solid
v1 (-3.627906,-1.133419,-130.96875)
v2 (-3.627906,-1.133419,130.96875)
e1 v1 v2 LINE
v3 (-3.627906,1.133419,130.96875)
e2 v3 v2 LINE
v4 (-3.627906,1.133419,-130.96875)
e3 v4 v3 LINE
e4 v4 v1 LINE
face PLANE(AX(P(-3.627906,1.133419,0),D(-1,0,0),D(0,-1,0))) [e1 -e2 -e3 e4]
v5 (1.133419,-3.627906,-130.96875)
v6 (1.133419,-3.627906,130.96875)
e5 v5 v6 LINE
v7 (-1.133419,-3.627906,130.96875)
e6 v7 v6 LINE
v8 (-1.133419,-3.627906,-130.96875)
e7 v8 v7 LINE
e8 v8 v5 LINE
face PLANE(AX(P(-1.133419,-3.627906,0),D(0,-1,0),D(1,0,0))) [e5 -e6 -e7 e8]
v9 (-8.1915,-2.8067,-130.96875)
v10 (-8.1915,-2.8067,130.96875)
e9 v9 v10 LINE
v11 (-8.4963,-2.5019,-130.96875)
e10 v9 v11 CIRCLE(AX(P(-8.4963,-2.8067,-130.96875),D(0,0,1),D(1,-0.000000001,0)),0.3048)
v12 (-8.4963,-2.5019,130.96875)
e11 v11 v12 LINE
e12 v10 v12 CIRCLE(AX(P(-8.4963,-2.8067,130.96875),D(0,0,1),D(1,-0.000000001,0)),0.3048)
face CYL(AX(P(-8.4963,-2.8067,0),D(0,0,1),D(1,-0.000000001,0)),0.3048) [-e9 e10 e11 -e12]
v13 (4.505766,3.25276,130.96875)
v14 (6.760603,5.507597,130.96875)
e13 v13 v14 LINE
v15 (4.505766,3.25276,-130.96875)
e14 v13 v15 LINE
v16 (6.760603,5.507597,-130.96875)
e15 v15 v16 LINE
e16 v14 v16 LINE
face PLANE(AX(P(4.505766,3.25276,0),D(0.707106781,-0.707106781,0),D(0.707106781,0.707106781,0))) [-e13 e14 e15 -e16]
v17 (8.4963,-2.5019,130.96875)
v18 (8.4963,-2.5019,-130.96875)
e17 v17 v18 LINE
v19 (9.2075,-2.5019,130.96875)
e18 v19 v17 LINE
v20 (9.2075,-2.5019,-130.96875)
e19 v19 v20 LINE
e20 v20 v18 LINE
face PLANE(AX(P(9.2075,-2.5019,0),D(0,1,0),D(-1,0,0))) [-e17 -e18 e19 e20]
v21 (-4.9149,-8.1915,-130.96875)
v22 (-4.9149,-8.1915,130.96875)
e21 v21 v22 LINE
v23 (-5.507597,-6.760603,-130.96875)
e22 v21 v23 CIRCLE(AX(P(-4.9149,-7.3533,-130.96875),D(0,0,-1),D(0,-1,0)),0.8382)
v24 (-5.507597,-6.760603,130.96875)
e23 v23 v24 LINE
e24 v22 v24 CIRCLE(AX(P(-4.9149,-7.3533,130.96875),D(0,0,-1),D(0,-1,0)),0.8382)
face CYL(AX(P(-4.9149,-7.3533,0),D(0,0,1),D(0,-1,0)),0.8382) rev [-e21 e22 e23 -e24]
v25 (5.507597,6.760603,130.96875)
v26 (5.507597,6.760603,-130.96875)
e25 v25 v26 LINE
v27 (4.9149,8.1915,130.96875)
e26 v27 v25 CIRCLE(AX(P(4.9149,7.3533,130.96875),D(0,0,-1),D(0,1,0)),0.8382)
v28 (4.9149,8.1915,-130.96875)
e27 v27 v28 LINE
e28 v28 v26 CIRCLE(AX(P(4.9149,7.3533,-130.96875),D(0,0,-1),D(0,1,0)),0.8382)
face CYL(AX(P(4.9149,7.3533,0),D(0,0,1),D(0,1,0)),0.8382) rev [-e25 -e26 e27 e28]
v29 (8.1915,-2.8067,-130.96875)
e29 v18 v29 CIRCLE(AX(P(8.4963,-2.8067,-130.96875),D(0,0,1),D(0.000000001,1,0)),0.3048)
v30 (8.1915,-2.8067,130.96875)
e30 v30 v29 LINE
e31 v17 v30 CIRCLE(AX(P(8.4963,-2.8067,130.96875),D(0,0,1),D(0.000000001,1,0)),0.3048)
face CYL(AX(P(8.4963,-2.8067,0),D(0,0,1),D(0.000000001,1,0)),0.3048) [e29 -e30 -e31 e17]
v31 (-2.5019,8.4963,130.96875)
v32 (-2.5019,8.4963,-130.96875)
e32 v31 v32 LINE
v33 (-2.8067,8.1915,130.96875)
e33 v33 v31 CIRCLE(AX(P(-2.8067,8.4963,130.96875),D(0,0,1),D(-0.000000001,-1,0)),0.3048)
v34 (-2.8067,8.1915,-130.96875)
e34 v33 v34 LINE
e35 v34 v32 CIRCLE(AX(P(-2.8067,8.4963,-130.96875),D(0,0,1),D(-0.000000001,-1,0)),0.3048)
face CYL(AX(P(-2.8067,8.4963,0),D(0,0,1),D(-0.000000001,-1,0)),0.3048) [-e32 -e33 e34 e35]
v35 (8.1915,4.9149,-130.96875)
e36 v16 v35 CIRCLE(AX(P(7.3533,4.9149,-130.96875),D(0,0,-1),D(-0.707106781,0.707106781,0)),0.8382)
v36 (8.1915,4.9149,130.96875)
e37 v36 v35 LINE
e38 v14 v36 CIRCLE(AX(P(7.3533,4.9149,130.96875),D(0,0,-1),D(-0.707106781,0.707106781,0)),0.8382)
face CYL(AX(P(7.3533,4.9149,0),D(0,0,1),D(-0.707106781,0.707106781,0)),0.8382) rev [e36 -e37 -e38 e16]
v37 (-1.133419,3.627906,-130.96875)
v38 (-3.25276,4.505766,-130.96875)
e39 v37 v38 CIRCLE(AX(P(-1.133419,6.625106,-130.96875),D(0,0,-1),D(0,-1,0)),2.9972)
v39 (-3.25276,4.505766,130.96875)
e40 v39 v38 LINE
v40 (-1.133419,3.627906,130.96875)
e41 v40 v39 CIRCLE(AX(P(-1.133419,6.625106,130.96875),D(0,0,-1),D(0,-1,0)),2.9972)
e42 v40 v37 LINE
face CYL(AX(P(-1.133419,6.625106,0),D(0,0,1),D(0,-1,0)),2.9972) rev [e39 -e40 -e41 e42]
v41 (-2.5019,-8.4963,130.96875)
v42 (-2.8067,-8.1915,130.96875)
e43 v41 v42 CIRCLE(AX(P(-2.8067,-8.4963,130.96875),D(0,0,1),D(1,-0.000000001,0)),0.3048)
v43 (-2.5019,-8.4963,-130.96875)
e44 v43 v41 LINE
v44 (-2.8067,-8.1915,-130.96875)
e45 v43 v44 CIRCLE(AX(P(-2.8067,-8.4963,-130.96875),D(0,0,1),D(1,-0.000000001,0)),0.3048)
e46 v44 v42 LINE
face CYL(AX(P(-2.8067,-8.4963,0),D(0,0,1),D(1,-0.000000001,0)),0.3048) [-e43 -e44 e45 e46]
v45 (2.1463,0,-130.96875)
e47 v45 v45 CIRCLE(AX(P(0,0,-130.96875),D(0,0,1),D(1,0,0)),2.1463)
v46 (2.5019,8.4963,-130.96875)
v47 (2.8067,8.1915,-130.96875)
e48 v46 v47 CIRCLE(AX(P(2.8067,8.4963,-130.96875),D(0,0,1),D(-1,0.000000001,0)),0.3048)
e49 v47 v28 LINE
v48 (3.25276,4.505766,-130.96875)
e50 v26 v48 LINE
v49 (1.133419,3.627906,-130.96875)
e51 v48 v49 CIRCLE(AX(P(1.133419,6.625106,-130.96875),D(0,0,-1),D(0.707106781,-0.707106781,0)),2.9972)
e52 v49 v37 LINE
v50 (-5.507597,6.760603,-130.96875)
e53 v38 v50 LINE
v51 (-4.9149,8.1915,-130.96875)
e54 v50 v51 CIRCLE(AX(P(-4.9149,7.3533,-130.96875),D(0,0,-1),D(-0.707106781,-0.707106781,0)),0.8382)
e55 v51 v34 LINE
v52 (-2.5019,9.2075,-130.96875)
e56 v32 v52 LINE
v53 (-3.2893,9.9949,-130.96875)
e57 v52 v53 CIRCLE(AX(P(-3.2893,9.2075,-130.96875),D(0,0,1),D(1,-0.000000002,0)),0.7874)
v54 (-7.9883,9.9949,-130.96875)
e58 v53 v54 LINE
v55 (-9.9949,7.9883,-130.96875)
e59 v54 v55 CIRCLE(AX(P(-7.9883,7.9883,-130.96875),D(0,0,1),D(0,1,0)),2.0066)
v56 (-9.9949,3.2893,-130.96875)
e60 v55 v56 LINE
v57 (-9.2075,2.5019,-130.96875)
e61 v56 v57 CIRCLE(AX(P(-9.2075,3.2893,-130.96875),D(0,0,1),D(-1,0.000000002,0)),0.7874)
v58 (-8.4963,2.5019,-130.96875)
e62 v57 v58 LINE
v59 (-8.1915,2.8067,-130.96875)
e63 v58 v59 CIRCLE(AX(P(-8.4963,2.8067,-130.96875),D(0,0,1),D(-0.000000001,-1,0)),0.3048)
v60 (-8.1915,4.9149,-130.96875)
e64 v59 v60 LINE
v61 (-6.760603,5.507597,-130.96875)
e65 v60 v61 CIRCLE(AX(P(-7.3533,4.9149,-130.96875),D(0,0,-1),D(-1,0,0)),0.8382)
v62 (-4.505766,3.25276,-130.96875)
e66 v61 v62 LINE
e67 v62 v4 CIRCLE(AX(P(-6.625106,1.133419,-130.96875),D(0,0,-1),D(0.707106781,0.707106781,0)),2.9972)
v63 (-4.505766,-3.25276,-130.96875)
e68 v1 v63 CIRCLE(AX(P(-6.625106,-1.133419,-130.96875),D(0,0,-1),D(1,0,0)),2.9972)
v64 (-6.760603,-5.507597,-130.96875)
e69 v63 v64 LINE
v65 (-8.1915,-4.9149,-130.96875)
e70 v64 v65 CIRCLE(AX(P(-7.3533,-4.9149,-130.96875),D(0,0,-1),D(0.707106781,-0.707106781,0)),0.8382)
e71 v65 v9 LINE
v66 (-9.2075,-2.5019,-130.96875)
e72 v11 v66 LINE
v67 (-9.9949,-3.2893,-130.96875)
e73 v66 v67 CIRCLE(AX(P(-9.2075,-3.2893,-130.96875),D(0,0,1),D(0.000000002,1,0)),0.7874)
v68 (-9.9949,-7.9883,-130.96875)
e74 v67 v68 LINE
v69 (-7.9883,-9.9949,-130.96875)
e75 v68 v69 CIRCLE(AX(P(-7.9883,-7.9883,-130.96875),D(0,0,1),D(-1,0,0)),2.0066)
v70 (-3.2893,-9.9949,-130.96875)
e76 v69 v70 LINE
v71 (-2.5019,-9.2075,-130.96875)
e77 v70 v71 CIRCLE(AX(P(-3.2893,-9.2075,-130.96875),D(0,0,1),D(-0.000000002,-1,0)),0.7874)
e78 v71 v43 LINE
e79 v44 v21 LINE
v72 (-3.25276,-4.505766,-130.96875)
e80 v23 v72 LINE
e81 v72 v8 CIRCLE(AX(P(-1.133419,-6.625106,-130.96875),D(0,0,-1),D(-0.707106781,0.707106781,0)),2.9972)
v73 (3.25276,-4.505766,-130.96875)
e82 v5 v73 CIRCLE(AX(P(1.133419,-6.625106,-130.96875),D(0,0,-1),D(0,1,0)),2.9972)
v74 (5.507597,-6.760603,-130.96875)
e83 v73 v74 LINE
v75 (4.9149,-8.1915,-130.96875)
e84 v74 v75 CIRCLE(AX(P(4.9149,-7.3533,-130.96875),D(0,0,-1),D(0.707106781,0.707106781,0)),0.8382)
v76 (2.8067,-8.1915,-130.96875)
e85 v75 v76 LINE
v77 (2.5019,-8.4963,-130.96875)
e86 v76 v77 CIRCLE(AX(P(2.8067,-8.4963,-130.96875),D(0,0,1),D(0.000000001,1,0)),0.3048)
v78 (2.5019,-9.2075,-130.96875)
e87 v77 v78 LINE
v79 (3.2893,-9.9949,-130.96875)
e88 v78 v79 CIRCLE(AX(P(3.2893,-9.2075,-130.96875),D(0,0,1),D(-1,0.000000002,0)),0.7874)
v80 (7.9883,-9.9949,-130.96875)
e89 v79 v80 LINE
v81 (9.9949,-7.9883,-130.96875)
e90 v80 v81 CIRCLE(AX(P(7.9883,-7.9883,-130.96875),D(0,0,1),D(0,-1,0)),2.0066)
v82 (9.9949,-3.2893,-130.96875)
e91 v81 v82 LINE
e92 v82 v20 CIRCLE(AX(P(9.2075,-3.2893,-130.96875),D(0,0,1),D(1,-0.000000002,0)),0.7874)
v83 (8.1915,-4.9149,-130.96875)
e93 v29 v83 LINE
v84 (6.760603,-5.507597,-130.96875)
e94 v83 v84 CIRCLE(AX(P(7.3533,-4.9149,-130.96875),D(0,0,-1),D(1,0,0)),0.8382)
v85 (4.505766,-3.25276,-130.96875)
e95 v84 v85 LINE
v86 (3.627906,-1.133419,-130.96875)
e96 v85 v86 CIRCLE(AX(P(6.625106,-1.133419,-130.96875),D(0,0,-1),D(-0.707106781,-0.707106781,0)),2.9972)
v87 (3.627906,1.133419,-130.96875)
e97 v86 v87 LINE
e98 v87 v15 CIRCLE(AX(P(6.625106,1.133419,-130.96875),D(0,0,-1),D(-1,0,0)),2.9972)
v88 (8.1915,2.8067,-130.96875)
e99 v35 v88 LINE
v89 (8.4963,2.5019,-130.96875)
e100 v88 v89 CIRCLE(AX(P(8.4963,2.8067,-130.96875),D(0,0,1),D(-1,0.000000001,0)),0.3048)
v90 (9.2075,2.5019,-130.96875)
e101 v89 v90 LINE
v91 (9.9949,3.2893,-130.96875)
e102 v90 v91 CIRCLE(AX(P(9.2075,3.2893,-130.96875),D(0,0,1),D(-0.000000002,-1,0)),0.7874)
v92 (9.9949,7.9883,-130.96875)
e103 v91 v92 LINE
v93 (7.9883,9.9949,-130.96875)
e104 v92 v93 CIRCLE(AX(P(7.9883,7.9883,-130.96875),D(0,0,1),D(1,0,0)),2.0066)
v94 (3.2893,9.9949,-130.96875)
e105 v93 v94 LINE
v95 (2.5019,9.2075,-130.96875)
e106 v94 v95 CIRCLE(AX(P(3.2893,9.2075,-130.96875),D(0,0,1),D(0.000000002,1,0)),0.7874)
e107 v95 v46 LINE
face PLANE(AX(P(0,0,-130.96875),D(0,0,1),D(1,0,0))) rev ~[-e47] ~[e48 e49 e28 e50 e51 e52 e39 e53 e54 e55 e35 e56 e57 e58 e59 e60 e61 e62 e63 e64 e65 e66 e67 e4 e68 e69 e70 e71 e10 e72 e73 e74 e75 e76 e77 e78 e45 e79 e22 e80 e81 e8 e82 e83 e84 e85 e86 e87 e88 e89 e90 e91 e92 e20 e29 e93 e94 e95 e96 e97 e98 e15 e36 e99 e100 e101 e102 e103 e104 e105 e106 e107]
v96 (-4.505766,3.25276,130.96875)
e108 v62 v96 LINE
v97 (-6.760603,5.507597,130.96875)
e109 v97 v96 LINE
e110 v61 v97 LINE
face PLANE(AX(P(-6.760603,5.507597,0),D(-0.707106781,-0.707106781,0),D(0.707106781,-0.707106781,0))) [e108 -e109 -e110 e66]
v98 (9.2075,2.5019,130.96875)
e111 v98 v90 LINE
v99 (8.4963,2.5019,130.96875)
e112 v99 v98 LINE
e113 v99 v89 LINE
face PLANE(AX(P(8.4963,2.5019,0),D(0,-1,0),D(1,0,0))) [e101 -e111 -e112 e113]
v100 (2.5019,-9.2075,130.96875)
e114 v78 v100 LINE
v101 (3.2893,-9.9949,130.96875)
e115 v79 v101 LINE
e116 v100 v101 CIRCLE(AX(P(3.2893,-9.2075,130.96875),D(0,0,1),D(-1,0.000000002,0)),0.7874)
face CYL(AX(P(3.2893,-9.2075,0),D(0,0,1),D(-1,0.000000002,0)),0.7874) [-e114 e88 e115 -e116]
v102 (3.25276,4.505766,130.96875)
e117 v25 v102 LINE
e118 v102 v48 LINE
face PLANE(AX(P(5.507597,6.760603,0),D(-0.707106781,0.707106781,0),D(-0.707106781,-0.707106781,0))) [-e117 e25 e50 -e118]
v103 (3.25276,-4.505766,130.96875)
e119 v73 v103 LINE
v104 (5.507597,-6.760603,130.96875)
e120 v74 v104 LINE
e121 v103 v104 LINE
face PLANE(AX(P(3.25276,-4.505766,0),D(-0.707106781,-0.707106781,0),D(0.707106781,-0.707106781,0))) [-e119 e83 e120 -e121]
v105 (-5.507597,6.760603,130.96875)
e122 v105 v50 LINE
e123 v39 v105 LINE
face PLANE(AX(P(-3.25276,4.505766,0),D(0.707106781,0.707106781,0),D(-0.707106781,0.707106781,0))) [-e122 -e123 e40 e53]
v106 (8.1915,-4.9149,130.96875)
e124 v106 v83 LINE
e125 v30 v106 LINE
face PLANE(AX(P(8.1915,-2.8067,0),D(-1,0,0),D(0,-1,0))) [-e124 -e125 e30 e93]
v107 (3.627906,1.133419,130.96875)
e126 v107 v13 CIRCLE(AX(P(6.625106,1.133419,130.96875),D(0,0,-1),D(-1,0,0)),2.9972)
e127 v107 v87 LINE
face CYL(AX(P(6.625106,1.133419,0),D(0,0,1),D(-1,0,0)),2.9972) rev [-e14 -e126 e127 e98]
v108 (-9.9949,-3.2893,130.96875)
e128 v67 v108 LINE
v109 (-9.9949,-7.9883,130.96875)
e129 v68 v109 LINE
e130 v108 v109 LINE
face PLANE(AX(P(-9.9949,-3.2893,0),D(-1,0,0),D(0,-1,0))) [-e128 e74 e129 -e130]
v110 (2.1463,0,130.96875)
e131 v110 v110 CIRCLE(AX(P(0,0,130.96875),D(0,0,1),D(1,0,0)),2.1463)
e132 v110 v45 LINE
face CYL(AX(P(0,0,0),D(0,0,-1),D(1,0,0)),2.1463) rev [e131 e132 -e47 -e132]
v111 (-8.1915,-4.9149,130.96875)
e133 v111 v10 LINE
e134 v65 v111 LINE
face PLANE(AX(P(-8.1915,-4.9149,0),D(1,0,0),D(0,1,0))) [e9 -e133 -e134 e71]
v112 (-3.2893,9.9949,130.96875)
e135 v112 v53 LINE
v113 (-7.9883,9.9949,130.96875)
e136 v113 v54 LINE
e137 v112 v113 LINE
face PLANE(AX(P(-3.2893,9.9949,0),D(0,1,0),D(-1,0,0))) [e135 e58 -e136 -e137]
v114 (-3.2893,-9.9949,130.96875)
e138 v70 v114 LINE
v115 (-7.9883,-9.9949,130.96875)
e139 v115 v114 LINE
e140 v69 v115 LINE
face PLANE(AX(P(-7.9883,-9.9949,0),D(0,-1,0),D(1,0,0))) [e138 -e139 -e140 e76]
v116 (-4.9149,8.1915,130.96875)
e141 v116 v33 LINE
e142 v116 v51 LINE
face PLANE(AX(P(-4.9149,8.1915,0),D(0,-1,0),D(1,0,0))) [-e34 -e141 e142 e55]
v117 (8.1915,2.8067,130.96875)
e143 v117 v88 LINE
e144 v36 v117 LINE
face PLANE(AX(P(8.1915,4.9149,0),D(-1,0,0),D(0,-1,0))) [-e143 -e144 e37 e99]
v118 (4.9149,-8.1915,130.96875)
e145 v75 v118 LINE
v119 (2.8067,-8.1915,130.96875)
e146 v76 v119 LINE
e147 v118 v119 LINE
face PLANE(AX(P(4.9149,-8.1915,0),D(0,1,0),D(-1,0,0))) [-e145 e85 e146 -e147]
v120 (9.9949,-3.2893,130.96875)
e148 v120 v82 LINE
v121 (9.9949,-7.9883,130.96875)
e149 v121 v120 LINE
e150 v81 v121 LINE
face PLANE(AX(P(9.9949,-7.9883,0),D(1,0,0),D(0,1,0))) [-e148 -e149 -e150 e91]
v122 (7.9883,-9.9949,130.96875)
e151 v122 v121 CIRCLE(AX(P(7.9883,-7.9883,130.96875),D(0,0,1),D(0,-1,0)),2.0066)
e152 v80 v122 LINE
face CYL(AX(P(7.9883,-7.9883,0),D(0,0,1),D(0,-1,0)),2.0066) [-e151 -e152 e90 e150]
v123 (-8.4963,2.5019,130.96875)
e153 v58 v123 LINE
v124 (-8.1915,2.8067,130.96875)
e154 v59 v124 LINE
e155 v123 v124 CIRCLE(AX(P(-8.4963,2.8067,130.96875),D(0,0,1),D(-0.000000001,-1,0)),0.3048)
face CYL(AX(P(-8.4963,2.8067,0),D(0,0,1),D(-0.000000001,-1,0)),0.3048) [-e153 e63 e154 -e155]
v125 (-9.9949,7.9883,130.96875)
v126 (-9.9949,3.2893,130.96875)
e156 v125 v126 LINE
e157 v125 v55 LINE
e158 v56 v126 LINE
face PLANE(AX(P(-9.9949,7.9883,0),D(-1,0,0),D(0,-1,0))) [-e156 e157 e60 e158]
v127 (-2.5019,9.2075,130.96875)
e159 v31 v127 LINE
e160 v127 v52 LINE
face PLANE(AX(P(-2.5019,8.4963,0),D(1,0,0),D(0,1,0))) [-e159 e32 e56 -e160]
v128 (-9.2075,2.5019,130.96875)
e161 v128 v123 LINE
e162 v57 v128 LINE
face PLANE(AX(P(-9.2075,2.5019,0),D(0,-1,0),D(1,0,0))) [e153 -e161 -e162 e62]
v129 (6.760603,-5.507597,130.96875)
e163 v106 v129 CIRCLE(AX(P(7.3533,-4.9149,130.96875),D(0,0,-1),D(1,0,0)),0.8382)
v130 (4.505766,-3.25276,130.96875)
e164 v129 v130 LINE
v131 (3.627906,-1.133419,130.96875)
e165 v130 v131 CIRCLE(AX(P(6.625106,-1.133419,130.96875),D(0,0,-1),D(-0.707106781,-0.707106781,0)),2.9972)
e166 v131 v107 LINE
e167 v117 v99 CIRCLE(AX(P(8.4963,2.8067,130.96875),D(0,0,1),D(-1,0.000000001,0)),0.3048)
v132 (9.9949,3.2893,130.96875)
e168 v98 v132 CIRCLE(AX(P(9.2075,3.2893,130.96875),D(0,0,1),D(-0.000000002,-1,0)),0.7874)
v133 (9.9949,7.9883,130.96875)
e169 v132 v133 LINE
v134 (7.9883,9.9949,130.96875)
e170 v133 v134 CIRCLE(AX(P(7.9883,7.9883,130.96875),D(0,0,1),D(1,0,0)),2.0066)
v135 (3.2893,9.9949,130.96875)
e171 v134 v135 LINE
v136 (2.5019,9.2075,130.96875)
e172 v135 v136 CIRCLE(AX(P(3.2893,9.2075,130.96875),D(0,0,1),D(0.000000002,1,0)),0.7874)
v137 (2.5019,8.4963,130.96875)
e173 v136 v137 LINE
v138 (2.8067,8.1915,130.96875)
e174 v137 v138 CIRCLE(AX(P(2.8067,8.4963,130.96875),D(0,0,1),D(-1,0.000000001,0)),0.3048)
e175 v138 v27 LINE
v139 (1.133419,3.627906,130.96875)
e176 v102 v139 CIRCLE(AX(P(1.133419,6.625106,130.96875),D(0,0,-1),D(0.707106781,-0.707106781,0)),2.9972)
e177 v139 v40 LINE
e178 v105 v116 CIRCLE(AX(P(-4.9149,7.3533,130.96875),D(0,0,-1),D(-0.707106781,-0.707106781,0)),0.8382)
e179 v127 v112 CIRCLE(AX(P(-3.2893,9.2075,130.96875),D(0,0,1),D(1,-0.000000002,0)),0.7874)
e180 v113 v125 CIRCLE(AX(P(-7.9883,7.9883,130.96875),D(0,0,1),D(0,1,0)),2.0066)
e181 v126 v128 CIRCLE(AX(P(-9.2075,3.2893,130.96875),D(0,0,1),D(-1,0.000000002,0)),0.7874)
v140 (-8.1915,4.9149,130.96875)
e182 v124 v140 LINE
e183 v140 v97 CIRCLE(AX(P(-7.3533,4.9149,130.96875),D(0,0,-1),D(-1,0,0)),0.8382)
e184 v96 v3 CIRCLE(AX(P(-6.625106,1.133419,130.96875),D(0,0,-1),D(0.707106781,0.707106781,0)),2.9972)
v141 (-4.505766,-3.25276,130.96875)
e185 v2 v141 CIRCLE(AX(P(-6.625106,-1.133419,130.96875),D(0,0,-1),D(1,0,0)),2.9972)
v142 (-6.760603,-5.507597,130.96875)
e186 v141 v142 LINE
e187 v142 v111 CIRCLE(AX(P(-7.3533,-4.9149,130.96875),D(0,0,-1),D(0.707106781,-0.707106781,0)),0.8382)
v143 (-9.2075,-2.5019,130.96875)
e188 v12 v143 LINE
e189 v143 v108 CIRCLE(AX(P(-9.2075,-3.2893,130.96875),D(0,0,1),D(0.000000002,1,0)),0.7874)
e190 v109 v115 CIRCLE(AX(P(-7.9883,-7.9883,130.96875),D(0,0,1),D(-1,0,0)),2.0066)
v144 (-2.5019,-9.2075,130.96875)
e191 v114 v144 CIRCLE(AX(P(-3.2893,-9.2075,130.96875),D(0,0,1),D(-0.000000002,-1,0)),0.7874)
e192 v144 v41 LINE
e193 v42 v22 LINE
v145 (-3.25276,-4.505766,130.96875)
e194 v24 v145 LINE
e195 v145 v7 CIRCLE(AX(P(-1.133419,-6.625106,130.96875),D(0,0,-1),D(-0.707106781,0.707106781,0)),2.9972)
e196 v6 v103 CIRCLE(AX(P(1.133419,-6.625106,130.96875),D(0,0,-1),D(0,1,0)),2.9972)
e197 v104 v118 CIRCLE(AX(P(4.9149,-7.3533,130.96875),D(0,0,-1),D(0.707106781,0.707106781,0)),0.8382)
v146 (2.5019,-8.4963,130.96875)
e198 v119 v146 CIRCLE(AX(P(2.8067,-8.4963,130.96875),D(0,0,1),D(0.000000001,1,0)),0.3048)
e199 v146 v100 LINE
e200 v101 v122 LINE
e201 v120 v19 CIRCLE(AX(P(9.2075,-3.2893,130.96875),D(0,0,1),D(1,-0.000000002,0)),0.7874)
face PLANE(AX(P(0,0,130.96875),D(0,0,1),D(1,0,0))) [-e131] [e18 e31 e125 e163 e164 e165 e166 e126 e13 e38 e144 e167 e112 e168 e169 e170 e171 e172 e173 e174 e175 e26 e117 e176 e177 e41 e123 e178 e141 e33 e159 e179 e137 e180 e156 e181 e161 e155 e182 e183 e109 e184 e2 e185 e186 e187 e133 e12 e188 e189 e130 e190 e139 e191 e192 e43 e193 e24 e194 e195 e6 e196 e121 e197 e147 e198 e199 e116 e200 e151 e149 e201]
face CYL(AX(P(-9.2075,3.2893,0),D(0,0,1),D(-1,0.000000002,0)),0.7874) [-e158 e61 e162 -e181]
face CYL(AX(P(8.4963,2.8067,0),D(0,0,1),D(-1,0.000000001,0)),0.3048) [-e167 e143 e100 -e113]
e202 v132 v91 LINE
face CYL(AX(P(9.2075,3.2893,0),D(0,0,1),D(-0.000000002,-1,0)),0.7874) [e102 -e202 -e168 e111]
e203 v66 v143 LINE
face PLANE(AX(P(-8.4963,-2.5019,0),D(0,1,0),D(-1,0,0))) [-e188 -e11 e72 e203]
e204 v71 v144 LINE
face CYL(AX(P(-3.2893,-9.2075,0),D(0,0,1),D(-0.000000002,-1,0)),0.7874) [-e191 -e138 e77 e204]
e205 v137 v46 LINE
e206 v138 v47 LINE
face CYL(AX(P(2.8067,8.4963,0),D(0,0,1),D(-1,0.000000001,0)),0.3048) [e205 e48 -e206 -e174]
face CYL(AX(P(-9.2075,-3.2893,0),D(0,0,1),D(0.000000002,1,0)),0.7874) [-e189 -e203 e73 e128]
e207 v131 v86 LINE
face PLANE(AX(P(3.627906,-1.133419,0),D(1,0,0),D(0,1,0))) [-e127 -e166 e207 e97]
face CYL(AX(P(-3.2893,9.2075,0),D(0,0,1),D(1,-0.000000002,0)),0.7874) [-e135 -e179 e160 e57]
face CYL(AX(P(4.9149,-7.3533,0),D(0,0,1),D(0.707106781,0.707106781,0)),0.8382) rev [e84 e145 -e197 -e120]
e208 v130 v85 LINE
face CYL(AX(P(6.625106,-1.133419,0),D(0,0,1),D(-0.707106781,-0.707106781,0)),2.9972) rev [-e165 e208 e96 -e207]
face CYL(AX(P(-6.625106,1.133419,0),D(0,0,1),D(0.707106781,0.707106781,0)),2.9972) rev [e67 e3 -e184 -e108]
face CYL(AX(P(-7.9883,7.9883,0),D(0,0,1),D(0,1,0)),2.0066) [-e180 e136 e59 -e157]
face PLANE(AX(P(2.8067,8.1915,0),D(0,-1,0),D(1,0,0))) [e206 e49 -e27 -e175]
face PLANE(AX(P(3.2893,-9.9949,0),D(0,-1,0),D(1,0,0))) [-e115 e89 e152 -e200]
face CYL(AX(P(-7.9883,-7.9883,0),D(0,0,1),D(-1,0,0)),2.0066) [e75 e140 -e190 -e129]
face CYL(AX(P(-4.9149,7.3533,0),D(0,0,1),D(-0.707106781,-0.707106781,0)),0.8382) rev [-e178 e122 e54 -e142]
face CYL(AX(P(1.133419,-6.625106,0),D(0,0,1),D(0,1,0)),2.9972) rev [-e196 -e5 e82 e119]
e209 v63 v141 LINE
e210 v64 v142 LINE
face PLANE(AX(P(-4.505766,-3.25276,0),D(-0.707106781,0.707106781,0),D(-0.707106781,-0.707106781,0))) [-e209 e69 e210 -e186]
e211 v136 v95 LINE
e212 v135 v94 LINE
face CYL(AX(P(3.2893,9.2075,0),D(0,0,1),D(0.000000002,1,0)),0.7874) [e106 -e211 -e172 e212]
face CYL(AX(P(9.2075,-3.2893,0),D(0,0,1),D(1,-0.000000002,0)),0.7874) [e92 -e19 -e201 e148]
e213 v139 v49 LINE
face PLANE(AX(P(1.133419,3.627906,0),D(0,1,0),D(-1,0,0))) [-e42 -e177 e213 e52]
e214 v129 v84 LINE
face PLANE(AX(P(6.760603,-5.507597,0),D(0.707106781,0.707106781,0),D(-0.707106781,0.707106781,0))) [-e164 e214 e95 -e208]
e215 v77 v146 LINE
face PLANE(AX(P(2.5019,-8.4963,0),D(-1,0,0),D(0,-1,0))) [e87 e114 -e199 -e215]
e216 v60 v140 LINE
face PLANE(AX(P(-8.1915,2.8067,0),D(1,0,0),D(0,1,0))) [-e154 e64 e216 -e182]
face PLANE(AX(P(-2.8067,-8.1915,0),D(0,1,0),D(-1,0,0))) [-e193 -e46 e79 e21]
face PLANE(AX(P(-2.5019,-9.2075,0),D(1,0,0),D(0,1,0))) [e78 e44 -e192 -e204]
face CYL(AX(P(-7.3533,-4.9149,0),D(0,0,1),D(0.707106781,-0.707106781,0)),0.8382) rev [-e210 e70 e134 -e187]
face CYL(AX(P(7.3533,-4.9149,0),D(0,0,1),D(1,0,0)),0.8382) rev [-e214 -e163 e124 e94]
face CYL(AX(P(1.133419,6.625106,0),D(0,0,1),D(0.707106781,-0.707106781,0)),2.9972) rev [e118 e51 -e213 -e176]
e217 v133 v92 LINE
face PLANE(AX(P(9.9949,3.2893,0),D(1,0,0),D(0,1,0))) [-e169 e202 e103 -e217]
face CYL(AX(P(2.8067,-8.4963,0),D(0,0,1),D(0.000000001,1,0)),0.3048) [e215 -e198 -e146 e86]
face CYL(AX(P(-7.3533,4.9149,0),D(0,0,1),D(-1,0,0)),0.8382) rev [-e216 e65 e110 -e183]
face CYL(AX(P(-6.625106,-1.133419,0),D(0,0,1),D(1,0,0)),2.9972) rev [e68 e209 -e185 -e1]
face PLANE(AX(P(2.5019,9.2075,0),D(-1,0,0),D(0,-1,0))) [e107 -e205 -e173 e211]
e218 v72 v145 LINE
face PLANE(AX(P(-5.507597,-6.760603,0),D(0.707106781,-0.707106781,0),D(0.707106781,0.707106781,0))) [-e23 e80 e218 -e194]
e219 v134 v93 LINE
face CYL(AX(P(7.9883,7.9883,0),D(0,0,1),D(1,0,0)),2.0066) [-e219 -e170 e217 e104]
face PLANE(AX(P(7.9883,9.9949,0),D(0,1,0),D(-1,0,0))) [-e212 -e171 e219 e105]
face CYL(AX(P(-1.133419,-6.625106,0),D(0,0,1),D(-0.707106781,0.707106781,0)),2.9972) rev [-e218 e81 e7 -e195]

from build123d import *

# Parameters (mm, degrees)
SKETCH1_R           = 2.1463
BOSS_EXTRUDE1_DEPTH = 130.96875


with BuildPart() as part:
    # Sketch1 → Boss-Extrude1 (new, symmetric)
    with BuildSketch(Plane.XY):
        with BuildLine():
            Line((-9.9949, 7.9883), (-9.9949, 3.2893))
            ThreePointArc((-9.9949, 3.2893), (-9.76427588, 2.73252412), (-9.2075, 2.5019))
            Line((-9.2075, 2.5019), (-8.4963, 2.5019))
            ThreePointArc((-8.4963, 2.5019), (-8.280773853, 2.591173853), (-8.1915, 2.8067))
            Line((-8.1915, 2.8067), (-8.1915, 4.9149))
            ThreePointArc((-8.1915, 4.9149), (-7.674065253, 5.689295824), (-6.760603096, 5.507596904))
            Line((-6.760603096, 5.507596904), (-4.505765747, 3.252759555))
            ThreePointArc((-4.505765747, 3.252759555), (-3.856054457, 2.280397894), (-3.627906192, 1.133419111))
            Line((-3.627906192, 1.133419111), (-3.627906192, -1.133419111))
            ThreePointArc((-3.627906192, -1.133419111), (-3.856054457, -2.280397894), (-4.505765747, -3.252759555))
            Line((-4.505765747, -3.252759555), (-6.760603096, -5.507596904))
            ThreePointArc((-6.760603096, -5.507596904), (-7.674065253, -5.689295824), (-8.1915, -4.9149))
            Line((-8.1915, -4.9149), (-8.1915, -2.8067))
            ThreePointArc((-8.1915, -2.8067), (-8.280773853, -2.591173853), (-8.4963, -2.5019))
            Line((-8.4963, -2.5019), (-9.2075, -2.5019))
            ThreePointArc((-9.2075, -2.5019), (-9.76427588, -2.73252412), (-9.9949, -3.2893))
            Line((-9.9949, -3.2893), (-9.9949, -7.9883))
            ThreePointArc((-9.9949, -7.9883), (-9.407180467, -9.407180467), (-7.9883, -9.9949))
            Line((-7.9883, -9.9949), (-3.2893, -9.9949))
            ThreePointArc((-3.2893, -9.9949), (-2.73252412, -9.76427588), (-2.5019, -9.2075))
            Line((-2.5019, -9.2075), (-2.5019, -8.4963))
            ThreePointArc((-2.5019, -8.4963), (-2.591173853, -8.280773853), (-2.8067, -8.1915))
            Line((-2.8067, -8.1915), (-4.9149, -8.1915))
            ThreePointArc((-4.9149, -8.1915), (-5.689295824, -7.674065253), (-5.507596904, -6.760603096))
            Line((-5.507596904, -6.760603096), (-3.252759555, -4.505765747))
            ThreePointArc((-3.252759555, -4.505765747), (-2.280397894, -3.856054457), (-1.133419111, -3.627906192))
            Line((-1.133419111, -3.627906192), (1.133419111, -3.627906192))
            ThreePointArc((1.133419111, -3.627906192), (2.280397894, -3.856054457), (3.252759555, -4.505765747))
            Line((3.252759555, -4.505765747), (5.507596904, -6.760603096))
            ThreePointArc((5.507596904, -6.760603096), (5.689295824, -7.674065253), (4.9149, -8.1915))
            Line((4.9149, -8.1915), (2.8067, -8.1915))
            ThreePointArc((2.8067, -8.1915), (2.591173853, -8.280773853), (2.5019, -8.4963))
            Line((2.5019, -8.4963), (2.5019, -9.2075))
            ThreePointArc((2.5019, -9.2075), (2.73252412, -9.76427588), (3.2893, -9.9949))
            Line((3.2893, -9.9949), (7.9883, -9.9949))
            ThreePointArc((7.9883, -9.9949), (9.407180467, -9.407180467), (9.9949, -7.9883))
            Line((9.9949, -7.9883), (9.9949, -3.2893))
            ThreePointArc((9.9949, -3.2893), (9.76427588, -2.73252412), (9.2075, -2.5019))
            Line((9.2075, -2.5019), (8.4963, -2.5019))
            ThreePointArc((8.4963, -2.5019), (8.280773853, -2.591173853), (8.1915, -2.8067))
            Line((8.1915, -2.8067), (8.1915, -4.9149))
            ThreePointArc((8.1915, -4.9149), (7.674065253, -5.689295824), (6.760603096, -5.507596904))
            Line((6.760603096, -5.507596904), (4.505765747, -3.252759555))
            ThreePointArc((4.505765747, -3.252759555), (3.856054457, -2.280397894), (3.627906192, -1.133419111))
            Line((3.627906192, -1.133419111), (3.627906192, 1.133419111))
            ThreePointArc((3.627906192, 1.133419111), (3.856054457, 2.280397894), (4.505765747, 3.252759555))
            Line((4.505765747, 3.252759555), (6.760603096, 5.507596904))
            ThreePointArc((6.760603096, 5.507596904), (7.674065253, 5.689295824), (8.1915, 4.9149))
            Line((8.1915, 4.9149), (8.1915, 2.8067))
            ThreePointArc((8.1915, 2.8067), (8.280773853, 2.591173853), (8.4963, 2.5019))
            Line((8.4963, 2.5019), (9.2075, 2.5019))
            ThreePointArc((9.2075, 2.5019), (9.76427588, 2.73252412), (9.9949, 3.2893))
            Line((9.9949, 3.2893), (9.9949, 7.9883))
            ThreePointArc((9.9949, 7.9883), (9.407180467, 9.407180467), (7.9883, 9.9949))
            Line((7.9883, 9.9949), (3.2893, 9.9949))
            ThreePointArc((3.2893, 9.9949), (2.73252412, 9.76427588), (2.5019, 9.2075))
            Line((2.5019, 9.2075), (2.5019, 8.4963))
            ThreePointArc((2.5019, 8.4963), (2.591173853, 8.280773853), (2.8067, 8.1915))
            Line((2.8067, 8.1915), (4.9149, 8.1915))
            ThreePointArc((4.9149, 8.1915), (5.689295824, 7.674065253), (5.507596904, 6.760603096))
            Line((5.507596904, 6.760603096), (3.252759555, 4.505765747))
            ThreePointArc((3.252759555, 4.505765747), (2.280397894, 3.856054457), (1.133419111, 3.627906192))
            Line((1.133419111, 3.627906192), (-1.133419111, 3.627906192))
            ThreePointArc((-1.133419111, 3.627906192), (-2.280397894, 3.856054457), (-3.252759555, 4.505765747))
            Line((-3.252759555, 4.505765747), (-5.507596904, 6.760603096))
            ThreePointArc((-5.507596904, 6.760603096), (-5.689295824, 7.674065253), (-4.9149, 8.1915))
            Line((-4.9149, 8.1915), (-2.8067, 8.1915))
            ThreePointArc((-2.8067, 8.1915), (-2.591173853, 8.280773853), (-2.5019, 8.4963))
            Line((-2.5019, 8.4963), (-2.5019, 9.2075))
            ThreePointArc((-2.5019, 9.2075), (-2.73252412, 9.76427588), (-3.2893, 9.9949))
            Line((-3.2893, 9.9949), (-7.9883, 9.9949))
            ThreePointArc((-7.9883, 9.9949), (-9.407180467, 9.407180467), (-9.9949, 7.9883))
        make_face()
        Circle(SKETCH1_R, mode=Mode.SUBTRACT)
    extrude(amount=BOSS_EXTRUDE1_DEPTH, both=True)


solid = part.part
